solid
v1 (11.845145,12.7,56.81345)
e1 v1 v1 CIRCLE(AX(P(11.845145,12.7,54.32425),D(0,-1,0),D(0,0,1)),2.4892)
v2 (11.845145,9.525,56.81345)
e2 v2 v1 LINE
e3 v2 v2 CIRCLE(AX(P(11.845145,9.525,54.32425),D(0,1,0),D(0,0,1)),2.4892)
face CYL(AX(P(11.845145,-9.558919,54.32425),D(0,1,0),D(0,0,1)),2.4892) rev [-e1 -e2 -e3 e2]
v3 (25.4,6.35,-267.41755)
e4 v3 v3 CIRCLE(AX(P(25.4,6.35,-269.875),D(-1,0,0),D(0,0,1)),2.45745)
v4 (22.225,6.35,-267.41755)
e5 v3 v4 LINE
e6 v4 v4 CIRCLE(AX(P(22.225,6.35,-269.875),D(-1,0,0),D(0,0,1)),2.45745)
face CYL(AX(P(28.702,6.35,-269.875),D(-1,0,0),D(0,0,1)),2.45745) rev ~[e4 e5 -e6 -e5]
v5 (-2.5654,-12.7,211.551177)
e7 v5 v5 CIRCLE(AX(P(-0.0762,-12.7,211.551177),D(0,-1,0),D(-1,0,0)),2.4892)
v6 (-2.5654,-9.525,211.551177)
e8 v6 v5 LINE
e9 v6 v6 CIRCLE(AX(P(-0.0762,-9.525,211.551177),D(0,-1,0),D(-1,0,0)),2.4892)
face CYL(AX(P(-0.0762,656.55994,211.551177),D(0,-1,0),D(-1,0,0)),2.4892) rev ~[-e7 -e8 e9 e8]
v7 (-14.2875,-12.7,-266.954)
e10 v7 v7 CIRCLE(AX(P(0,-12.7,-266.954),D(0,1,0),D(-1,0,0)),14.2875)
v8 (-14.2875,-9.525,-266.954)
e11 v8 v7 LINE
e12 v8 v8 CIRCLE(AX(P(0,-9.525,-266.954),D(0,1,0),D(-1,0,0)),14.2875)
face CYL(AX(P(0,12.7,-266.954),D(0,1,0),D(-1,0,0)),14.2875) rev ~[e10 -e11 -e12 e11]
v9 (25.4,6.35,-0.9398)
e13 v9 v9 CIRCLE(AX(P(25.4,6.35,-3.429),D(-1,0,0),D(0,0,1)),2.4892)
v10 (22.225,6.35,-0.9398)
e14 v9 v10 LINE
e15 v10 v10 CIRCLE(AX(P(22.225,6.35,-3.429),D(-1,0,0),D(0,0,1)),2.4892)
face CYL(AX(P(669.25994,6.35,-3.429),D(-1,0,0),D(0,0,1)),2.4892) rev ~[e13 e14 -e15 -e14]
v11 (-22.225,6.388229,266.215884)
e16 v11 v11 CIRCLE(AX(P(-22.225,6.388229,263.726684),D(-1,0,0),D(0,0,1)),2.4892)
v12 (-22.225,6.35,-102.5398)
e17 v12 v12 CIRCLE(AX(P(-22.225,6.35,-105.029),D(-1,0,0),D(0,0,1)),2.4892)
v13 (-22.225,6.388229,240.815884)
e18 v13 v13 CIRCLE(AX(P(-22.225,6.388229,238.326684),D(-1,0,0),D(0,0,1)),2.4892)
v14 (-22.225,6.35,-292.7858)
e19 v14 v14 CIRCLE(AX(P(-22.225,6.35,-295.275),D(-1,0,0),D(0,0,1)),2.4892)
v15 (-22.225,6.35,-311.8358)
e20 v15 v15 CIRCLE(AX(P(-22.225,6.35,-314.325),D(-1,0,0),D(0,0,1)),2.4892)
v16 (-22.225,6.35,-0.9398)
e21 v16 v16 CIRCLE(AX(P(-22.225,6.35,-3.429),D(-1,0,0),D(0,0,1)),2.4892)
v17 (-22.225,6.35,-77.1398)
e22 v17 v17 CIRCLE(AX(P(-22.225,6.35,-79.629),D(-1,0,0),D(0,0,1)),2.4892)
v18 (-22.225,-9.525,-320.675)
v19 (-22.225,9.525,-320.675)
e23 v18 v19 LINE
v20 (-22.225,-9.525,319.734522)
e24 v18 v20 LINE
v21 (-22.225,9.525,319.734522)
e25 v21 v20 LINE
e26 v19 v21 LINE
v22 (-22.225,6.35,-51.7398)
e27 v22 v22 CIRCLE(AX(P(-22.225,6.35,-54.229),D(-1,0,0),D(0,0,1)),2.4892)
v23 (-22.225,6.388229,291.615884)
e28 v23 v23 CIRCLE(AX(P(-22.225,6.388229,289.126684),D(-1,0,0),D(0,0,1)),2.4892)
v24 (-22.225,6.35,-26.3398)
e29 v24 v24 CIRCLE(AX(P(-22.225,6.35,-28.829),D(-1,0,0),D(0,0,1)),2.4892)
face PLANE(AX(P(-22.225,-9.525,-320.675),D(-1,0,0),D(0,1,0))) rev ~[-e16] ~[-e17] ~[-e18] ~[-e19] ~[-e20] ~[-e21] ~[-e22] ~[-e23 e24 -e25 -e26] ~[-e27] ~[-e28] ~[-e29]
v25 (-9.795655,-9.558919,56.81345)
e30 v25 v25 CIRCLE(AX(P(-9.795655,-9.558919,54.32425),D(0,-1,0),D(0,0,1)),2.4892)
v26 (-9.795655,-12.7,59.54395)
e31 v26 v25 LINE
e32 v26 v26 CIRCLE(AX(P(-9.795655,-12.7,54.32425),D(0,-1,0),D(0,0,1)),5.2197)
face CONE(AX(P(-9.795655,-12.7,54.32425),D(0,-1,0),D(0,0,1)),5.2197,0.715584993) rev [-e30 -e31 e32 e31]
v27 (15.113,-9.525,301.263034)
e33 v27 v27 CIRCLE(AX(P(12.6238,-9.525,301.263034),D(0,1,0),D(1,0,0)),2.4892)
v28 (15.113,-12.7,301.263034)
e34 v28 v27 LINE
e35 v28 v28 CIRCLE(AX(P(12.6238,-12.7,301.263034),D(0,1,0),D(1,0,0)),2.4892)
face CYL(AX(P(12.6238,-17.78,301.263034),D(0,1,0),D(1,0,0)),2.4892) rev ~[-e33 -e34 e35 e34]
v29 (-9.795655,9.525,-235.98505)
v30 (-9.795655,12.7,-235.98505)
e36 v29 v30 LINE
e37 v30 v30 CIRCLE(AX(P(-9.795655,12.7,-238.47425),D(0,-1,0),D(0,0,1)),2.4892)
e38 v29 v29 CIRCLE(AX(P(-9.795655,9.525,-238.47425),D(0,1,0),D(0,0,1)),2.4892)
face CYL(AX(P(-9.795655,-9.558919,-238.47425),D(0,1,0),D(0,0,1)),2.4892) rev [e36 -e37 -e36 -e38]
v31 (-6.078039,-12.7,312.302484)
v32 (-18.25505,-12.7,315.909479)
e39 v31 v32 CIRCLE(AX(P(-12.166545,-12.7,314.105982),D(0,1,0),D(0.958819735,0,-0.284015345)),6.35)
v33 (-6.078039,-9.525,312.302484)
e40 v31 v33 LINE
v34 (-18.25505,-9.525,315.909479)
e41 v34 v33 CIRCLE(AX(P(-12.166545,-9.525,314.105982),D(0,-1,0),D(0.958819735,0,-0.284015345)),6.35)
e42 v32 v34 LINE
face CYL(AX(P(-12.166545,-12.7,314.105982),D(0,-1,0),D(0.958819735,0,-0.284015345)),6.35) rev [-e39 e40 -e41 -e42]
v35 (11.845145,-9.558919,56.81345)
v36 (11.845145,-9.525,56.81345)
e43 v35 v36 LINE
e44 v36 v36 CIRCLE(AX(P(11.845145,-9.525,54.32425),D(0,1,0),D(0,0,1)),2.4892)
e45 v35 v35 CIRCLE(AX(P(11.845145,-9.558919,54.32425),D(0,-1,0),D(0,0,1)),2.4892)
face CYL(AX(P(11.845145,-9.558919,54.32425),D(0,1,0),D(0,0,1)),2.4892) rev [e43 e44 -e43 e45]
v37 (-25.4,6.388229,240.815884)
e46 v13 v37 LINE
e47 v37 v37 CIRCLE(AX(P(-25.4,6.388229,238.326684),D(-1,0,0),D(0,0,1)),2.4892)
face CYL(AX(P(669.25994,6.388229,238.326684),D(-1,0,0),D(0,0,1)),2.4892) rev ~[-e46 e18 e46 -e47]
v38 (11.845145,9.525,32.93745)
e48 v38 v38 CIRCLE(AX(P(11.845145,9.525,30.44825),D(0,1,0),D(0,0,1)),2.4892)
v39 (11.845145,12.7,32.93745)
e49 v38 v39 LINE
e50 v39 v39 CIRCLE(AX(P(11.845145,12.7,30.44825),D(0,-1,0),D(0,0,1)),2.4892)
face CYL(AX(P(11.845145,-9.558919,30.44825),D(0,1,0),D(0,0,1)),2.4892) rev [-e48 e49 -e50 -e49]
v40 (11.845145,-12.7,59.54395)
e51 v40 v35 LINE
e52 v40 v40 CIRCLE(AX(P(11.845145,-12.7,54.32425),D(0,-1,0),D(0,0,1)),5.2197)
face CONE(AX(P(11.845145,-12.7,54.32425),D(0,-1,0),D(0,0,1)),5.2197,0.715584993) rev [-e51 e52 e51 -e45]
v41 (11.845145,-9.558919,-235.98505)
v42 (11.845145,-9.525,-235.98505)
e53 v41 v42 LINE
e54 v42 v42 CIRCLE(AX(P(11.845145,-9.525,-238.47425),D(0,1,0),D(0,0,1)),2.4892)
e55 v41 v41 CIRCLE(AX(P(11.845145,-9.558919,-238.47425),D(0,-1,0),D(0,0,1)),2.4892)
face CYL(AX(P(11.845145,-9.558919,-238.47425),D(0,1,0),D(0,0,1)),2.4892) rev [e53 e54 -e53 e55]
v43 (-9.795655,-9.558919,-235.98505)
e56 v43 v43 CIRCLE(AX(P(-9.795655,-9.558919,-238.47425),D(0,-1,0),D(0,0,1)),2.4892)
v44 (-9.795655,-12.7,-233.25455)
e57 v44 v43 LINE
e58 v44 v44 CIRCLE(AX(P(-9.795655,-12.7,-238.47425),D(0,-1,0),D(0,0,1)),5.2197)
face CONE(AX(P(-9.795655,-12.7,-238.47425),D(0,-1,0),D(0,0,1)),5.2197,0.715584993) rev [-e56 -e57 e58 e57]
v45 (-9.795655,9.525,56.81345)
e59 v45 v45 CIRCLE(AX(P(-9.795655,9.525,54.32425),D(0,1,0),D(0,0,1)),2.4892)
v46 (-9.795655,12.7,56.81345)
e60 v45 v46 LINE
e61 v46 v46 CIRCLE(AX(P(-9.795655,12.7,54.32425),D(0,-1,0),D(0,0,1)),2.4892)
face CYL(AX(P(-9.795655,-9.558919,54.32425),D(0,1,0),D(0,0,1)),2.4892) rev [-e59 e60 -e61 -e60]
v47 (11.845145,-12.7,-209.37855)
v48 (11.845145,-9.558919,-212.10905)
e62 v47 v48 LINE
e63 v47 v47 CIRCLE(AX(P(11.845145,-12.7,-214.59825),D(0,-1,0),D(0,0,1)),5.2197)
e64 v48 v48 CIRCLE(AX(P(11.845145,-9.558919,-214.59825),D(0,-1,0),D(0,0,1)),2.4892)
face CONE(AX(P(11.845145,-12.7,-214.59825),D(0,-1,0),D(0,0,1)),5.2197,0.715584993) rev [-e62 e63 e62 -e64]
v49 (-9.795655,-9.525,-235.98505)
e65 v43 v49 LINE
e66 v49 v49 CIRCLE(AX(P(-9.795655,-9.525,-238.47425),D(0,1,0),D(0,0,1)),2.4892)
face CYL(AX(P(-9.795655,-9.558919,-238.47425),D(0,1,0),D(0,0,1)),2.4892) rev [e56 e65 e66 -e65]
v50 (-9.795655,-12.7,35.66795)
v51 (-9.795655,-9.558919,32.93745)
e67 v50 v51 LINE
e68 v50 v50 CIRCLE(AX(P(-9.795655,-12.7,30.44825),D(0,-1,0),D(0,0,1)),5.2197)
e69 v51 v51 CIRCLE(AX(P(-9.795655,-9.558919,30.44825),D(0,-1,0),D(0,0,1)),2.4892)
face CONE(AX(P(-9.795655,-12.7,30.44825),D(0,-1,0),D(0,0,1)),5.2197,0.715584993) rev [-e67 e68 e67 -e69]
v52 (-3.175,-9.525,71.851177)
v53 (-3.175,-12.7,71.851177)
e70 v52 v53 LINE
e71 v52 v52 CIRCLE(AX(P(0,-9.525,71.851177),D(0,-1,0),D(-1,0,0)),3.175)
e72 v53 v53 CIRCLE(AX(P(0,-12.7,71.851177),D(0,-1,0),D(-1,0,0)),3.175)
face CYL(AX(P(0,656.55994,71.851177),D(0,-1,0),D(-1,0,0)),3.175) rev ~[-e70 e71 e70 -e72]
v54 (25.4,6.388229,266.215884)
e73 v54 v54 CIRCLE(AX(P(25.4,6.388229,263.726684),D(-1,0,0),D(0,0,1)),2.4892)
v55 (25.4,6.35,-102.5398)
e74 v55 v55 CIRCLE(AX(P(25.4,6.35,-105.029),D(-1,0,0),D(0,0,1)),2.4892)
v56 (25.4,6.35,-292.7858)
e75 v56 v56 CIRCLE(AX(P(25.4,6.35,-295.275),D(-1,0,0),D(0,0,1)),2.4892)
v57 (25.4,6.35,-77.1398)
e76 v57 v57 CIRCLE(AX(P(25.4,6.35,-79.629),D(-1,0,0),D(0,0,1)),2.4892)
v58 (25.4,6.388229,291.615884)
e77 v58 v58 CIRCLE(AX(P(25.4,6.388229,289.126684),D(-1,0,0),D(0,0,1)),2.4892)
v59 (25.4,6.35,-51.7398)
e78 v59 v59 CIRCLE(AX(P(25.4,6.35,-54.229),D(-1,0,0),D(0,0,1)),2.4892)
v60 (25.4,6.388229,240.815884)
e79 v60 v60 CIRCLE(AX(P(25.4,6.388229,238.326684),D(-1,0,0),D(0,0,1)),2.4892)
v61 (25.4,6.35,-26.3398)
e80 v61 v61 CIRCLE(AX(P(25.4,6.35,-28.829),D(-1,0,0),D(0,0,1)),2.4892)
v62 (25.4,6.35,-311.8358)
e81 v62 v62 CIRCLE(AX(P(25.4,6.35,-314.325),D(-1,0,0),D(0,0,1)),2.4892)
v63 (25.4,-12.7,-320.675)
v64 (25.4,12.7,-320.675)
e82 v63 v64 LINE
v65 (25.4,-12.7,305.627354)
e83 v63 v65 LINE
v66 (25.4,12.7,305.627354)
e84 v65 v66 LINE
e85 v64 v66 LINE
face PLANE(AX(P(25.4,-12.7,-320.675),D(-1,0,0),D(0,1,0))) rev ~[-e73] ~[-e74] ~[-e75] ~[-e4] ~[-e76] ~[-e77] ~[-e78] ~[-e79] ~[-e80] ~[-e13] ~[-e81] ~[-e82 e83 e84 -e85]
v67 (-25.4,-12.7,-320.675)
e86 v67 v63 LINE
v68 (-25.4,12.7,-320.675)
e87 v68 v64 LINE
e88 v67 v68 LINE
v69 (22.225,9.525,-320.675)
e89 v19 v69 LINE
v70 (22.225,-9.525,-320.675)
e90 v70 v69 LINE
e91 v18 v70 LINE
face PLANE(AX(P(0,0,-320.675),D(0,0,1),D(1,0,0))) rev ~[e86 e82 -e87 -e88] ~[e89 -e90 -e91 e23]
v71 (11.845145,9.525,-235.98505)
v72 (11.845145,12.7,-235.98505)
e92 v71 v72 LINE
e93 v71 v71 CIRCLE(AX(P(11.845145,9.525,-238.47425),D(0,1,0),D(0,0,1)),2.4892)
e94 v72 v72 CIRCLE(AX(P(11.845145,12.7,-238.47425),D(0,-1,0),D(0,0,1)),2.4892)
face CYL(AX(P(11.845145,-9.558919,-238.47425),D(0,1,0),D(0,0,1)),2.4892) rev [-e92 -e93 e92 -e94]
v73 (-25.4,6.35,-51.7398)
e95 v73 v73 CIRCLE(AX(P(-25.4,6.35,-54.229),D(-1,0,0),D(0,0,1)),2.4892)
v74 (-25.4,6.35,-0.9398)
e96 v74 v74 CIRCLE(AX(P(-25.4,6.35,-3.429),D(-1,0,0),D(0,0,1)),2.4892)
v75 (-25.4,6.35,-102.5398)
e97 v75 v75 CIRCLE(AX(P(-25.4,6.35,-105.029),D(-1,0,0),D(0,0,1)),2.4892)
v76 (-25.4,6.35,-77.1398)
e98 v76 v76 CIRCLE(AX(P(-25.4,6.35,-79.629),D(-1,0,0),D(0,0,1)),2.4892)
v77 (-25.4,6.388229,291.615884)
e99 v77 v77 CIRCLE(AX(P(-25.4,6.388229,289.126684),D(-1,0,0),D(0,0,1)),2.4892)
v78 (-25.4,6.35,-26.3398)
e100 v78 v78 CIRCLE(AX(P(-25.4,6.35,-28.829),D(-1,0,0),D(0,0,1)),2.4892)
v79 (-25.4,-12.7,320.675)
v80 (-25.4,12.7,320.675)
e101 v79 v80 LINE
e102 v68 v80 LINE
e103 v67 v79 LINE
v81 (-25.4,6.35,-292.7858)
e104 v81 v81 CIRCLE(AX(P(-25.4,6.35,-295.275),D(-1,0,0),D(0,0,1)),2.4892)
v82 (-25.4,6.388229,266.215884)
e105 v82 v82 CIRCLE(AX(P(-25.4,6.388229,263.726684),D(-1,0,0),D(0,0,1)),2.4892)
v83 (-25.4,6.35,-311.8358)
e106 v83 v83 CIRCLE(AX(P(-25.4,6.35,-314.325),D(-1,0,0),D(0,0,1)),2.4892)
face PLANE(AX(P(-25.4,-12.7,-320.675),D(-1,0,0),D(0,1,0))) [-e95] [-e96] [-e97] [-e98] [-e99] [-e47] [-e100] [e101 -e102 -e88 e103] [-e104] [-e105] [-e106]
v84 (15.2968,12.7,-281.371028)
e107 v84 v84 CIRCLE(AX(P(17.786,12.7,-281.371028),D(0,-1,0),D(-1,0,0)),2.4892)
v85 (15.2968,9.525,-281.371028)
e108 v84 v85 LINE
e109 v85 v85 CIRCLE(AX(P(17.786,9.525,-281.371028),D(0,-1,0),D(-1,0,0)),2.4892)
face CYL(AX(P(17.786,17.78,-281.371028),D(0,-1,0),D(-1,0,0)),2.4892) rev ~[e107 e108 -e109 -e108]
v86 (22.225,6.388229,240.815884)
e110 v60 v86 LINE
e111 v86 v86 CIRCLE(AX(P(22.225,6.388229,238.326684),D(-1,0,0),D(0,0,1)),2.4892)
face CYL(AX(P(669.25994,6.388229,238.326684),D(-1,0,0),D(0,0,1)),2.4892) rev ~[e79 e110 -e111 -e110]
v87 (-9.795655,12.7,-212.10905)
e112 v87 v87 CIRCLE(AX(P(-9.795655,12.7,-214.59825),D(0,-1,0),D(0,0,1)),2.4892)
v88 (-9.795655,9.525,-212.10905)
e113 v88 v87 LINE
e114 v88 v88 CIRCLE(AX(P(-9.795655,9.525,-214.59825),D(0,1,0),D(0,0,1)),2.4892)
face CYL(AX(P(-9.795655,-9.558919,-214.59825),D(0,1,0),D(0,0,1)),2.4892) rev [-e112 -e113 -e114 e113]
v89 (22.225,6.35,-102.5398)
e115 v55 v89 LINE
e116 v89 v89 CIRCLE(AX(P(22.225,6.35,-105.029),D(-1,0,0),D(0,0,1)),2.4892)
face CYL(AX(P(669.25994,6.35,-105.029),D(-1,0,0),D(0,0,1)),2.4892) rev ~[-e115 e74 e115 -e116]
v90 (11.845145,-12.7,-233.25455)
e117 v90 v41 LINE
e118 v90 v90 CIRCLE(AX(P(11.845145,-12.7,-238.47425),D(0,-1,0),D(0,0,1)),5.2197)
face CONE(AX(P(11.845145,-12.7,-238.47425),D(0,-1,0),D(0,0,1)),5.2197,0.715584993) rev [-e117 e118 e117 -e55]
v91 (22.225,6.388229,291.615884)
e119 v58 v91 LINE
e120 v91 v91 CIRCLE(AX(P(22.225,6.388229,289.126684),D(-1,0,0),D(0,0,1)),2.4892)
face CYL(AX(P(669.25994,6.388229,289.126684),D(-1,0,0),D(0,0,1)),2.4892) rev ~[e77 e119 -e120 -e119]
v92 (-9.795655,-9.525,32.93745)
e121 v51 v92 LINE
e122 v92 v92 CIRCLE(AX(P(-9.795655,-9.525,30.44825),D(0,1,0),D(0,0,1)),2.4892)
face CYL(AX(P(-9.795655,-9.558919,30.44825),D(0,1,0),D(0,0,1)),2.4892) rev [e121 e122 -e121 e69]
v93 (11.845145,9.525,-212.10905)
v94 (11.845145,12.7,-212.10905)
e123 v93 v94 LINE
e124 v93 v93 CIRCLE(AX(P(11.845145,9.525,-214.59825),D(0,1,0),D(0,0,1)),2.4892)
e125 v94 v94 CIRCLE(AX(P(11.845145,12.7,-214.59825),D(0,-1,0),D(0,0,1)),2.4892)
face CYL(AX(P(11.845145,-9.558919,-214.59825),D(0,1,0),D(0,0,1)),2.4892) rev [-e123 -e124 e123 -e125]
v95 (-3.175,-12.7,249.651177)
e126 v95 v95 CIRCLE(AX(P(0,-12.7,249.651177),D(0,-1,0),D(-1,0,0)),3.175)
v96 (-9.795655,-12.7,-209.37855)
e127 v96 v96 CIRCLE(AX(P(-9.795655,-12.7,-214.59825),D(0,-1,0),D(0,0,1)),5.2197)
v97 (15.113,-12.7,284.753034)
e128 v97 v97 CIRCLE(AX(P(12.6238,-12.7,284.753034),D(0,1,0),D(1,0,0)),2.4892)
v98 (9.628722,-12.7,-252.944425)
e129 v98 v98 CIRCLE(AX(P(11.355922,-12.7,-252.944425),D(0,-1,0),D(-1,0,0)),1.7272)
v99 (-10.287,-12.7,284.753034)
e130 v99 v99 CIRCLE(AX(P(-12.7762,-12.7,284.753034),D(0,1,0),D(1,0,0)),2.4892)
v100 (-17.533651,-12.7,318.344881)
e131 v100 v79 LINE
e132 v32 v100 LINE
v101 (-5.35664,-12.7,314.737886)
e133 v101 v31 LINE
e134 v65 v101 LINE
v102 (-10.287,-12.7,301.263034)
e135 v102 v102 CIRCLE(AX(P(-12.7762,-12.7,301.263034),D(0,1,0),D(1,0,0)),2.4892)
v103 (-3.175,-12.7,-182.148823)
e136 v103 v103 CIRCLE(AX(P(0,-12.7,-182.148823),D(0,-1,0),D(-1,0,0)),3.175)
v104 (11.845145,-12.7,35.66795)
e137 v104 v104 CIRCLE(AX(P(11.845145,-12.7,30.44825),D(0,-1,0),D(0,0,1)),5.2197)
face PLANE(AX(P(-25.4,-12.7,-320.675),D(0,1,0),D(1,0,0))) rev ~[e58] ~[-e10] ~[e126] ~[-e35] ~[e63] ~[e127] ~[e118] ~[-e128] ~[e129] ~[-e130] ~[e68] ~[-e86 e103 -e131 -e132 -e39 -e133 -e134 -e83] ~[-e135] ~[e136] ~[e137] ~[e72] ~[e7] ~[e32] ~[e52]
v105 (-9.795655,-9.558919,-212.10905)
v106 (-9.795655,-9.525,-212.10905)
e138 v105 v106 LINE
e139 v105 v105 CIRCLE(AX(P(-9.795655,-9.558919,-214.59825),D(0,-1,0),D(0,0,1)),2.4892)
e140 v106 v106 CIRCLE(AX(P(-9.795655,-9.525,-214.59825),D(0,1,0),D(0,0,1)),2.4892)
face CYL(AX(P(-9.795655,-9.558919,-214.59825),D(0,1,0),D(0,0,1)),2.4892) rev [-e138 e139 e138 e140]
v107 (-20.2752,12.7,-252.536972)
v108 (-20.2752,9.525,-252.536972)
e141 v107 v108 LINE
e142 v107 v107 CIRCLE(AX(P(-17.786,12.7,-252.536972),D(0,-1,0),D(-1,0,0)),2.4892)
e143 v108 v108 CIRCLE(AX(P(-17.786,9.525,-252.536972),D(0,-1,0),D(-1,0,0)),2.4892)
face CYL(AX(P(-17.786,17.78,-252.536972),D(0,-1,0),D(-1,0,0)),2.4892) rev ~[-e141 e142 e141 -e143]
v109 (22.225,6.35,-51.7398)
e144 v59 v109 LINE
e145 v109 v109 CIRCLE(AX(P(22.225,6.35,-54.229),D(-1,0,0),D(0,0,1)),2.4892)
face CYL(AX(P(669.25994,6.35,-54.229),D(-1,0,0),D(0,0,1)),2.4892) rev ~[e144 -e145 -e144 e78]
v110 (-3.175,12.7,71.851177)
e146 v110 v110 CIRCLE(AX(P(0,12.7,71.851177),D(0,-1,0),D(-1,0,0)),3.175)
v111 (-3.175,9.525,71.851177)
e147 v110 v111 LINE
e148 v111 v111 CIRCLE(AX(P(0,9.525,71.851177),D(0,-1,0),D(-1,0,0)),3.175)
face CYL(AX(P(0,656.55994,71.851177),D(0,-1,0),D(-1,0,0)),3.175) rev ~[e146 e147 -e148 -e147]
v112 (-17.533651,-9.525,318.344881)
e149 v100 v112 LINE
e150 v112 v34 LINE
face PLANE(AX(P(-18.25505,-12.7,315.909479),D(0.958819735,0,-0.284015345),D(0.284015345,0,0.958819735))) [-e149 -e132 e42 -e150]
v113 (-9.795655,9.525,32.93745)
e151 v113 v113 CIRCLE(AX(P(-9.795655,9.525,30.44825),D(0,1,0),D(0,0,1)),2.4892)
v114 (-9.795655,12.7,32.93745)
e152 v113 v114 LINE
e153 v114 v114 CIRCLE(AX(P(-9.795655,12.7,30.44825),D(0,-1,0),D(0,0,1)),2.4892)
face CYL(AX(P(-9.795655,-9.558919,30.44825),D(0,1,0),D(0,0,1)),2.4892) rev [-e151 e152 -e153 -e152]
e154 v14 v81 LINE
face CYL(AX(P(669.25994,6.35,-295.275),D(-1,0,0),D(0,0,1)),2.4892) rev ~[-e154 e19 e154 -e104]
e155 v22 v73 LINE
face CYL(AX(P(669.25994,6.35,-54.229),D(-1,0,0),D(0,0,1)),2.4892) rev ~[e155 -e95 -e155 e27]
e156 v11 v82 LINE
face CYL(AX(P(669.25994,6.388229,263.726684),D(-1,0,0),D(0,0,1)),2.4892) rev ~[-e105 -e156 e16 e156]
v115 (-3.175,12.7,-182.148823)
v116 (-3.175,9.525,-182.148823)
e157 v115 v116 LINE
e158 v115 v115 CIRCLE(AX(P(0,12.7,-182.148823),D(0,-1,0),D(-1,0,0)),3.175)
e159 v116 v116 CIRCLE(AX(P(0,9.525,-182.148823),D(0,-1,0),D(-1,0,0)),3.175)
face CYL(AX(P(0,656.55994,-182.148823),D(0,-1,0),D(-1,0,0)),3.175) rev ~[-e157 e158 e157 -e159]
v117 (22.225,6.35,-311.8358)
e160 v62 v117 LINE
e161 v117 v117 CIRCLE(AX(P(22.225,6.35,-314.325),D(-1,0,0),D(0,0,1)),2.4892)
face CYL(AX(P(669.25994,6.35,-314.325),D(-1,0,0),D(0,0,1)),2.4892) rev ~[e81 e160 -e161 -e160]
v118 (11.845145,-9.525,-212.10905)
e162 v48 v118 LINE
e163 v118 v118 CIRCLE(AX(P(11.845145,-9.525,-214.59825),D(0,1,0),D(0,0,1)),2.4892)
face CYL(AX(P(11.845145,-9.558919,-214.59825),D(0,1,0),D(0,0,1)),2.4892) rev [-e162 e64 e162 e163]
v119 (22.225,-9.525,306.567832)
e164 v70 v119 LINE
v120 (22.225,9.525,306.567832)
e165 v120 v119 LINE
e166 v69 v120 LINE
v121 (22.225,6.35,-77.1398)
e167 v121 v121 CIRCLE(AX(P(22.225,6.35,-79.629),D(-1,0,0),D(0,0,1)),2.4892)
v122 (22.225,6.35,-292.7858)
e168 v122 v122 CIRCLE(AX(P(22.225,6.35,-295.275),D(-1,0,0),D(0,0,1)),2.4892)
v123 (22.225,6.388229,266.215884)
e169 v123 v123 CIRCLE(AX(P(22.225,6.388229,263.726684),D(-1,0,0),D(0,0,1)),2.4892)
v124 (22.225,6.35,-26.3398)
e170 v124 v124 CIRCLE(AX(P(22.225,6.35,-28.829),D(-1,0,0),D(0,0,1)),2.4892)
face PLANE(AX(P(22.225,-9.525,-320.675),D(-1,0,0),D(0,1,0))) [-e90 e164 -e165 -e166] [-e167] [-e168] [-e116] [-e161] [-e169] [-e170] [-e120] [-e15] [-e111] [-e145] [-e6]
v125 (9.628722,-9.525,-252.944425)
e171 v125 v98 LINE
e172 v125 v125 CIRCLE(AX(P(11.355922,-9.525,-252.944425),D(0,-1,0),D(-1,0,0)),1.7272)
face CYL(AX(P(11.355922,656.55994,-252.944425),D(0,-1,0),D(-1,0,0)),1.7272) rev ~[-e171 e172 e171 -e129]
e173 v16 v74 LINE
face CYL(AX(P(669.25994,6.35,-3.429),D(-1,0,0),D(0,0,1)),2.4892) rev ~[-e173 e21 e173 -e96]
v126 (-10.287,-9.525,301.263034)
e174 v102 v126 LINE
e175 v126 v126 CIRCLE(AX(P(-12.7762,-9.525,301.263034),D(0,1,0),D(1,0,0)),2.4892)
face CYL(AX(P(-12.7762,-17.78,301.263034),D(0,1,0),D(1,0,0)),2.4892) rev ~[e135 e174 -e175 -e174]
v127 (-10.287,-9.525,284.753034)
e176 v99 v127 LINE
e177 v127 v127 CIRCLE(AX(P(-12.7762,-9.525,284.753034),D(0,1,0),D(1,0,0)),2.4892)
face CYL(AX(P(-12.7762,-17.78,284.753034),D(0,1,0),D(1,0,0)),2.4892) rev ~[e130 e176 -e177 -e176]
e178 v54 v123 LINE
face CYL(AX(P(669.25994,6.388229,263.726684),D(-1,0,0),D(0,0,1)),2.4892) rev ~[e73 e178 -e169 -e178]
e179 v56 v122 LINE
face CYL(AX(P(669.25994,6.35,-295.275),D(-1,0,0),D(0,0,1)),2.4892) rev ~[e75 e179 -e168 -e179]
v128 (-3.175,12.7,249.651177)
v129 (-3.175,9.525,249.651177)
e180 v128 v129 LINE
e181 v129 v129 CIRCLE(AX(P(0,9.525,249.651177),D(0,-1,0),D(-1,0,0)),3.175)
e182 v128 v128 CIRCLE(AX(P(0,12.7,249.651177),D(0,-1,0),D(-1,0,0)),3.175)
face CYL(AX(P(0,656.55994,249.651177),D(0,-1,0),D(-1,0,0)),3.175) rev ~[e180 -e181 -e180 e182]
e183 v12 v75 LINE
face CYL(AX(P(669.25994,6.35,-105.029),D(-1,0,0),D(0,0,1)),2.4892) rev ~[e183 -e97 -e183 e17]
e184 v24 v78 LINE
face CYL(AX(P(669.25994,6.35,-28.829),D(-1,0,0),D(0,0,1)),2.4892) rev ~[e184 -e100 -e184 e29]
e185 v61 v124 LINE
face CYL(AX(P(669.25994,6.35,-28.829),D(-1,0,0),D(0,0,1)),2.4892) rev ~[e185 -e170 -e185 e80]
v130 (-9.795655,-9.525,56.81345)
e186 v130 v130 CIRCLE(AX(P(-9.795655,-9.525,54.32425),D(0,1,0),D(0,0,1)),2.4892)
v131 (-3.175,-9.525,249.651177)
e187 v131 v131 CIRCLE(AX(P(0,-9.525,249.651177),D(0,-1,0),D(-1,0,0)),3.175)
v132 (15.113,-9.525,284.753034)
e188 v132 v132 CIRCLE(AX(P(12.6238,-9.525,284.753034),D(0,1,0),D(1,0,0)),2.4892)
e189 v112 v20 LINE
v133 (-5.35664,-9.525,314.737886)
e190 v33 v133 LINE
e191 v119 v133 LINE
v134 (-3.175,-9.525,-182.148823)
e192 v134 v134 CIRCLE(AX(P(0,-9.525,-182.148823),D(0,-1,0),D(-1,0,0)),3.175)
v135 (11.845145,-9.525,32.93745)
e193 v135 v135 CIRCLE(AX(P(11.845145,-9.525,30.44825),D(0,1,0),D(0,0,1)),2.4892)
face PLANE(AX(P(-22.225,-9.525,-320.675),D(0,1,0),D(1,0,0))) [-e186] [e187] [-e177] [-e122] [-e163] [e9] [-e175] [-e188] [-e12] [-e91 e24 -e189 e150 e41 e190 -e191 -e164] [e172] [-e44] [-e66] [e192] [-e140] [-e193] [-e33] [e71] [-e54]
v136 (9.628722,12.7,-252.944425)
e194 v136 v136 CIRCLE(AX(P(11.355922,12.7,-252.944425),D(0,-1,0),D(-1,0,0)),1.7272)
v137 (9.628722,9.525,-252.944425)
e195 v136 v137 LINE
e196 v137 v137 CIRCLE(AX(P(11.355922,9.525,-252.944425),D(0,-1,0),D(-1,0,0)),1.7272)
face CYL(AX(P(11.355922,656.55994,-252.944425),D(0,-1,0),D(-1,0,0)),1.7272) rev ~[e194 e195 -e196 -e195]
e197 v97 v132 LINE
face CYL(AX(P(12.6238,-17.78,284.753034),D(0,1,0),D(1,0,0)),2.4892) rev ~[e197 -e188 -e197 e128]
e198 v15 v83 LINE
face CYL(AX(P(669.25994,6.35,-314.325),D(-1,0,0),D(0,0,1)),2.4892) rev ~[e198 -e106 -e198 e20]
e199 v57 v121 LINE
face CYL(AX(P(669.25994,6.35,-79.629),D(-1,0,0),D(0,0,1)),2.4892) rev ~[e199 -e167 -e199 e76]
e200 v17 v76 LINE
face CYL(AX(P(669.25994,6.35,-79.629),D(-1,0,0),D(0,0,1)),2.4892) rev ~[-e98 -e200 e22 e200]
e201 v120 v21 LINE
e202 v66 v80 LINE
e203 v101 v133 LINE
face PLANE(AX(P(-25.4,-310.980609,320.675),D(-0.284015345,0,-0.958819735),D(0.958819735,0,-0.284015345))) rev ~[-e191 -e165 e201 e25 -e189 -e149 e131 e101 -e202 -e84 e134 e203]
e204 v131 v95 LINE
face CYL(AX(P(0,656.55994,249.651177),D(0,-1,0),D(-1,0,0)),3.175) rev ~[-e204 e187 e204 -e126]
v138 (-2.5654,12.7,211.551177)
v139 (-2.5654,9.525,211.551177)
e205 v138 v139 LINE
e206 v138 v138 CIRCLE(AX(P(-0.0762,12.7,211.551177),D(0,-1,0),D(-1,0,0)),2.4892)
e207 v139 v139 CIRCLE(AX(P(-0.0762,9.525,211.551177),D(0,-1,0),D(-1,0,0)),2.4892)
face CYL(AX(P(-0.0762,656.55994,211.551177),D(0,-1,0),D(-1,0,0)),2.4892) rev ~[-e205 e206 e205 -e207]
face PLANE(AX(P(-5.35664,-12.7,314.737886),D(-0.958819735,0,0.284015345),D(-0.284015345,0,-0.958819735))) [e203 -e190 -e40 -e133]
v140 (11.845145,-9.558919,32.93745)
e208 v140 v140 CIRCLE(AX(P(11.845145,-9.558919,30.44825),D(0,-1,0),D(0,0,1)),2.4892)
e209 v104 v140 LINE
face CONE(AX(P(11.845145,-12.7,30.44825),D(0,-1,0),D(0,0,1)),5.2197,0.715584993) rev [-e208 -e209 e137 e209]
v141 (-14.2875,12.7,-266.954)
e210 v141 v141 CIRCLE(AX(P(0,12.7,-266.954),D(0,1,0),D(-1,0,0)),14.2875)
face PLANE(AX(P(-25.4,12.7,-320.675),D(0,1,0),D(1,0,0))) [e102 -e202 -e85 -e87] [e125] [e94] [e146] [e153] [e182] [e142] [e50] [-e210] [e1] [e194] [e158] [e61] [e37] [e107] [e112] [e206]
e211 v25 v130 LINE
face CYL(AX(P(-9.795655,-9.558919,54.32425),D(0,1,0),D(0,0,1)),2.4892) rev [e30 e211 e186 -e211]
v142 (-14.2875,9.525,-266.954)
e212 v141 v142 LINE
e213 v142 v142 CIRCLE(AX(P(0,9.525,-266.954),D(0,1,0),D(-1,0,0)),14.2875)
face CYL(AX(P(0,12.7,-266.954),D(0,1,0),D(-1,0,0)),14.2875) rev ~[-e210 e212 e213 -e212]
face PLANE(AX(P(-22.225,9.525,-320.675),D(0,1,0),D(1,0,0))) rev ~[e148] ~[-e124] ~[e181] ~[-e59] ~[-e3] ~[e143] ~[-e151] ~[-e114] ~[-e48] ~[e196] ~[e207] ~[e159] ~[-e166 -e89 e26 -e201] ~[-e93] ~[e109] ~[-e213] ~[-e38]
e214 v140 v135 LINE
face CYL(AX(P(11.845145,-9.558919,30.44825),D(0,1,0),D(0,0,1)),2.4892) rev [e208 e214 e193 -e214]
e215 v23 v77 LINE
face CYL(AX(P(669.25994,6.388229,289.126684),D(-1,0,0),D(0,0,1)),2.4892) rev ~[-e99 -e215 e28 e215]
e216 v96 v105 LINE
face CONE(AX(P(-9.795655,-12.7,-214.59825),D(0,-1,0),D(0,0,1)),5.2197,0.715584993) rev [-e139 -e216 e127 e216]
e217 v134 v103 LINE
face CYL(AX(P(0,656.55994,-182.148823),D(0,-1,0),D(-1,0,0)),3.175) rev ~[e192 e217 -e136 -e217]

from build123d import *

# Parameters (mm, degrees)
BOSS_EXTRUDE1_DEPTH              = 320.675
BOSS_EXTRUDE1_DEPTH_BACK         = 320.675
SKETCH3_W                        = 50.8
SKETCH3_H                        = 25.4
SKETCH3_W_2                      = 44.45
SKETCH3_H_2                      = 19.05
CUT_EXTRUDE1_DEPTH               = 323.680609311
CUT_EXTRUDE1_DEPTH_BACK          = 323.680609311
SKETCH8_R                        = 14.2875
CUT_EXTRUDE2_DEPTH               = 323.680609311
F_10_CLEARANCE_HOLE1_D           = 4.9784
F_10_CLEARANCE_HOLE1_DEPTH       = 5.08
F_10_CLEARANCE_HOLE1_TIP         = 1.495662253
F_10_CLEARANCE_HOLE2_D           = 4.9784
F_10_CLEARANCE_HOLE3_D           = 4.9784
F_10_CLEARANCE_HOLE4_D           = 4.9784
F_10_CLEARANCE_HOLE4_DEPTH       = 5.08
F_10_CLEARANCE_HOLE4_TIP         = 1.495662253
F_10_CLEARANCE_HOLE5_D           = 4.9784
TAP_DRILL_FOR_8_32_TAP1_D        = 3.4544
F_10_CLEARANCE_HOLE6_AT_2_COUNT  = 2
F_10_CLEARANCE_HOLE6_AT_2_PITCH  = 21.6408
F_10_CLEARANCE_HOLE6_AT_3_COUNT  = 2
F_10_CLEARANCE_HOLE6_AT_3_PITCH  = 32.224022105
F_10_CLEARANCE_HOLE6_AT_4_COUNT  = 2
F_10_CLEARANCE_HOLE6_AT_4_PITCH  = 23.876
F_10_CLEARANCE_HOLE6_AT_5_COUNT  = 2
F_10_CLEARANCE_HOLE6_AT_5_PITCH  = 269.79183685
F_10_CLEARANCE_HOLE6_AT_6_COUNT  = 2
F_10_CLEARANCE_HOLE6_AT_6_PITCH  = 268.9225
F_10_CLEARANCE_HOLE6_AT_7_COUNT  = 2
F_10_CLEARANCE_HOLE6_AT_7_PITCH  = 292.7985
F_10_CLEARANCE_HOLE6_AT_8_COUNT  = 2
F_10_CLEARANCE_HOLE6_AT_8_PITCH  = 293.597148874
F_10_0_1935_DIAMETER_HOLE1_D     = 4.9149
F_10_0_1935_DIAMETER_HOLE1_DEPTH = 3.302
F_10_0_1935_DIAMETER_HOLE1_TIP   = 1.476584928
CUT_EXTRUDE4_DEPTH               = 5.08
F_1_4_0_25_DIAMETER_HOLE1_D      = 6.35


with BuildPart() as part:
    # Sketch3 → Boss-Extrude1 (new, two sides: drawn at the far end of the back side and taken through both)
    with BuildSketch(Plane.XY.offset(-BOSS_EXTRUDE1_DEPTH_BACK)):
        Rectangle(SKETCH3_W, SKETCH3_H)
        Rectangle(SKETCH3_W_2, SKETCH3_H_2, mode=Mode.SUBTRACT)
    extrude(amount=BOSS_EXTRUDE1_DEPTH + BOSS_EXTRUDE1_DEPTH_BACK)

    # Sketch4 → Cut-Extrude1 (cut, two sides: drawn at the far end of the back side and taken through both)
    with BuildSketch(Plane(origin=(0, 12.7, 0), x_dir=(1, 0, 0), z_dir=(0, 1, 0)).offset(-CUT_EXTRUDE1_DEPTH_BACK)):
        Polygon((1322.117470931, -320.675), (25.4, -320.675), (-25.4, -320.675), (25.4, -305.627354456), (1268.718301677, 62.660305034), (3837.350959621, 420.474595165), (3890.750128875, 37.139290131), align=None)
    extrude(amount=CUT_EXTRUDE1_DEPTH + CUT_EXTRUDE1_DEPTH_BACK, mode=Mode.SUBTRACT)

    # Sketch8 → Cut-Extrude2 (cut, through all)
    with BuildSketch(Plane(origin=(0, 12.7, 0), x_dir=(1, 0, 0), z_dir=(0, 1, 0))):
        with Locations(Location((0, 266.954, 0), (0, 0, 180))):
            Circle(SKETCH8_R)
    extrude(amount=-CUT_EXTRUDE2_DEPTH, mode=Mode.SUBTRACT)

    # #10 Clearance Hole1
    with Locations(Plane(origin=(0, -12.7, 0), x_dir=(-1, 0, 0), z_dir=(0, -1, 0))):
        with Locations((-12.6238, -284.753033923), (12.7762, -284.753033923), (12.7762, -301.263033923), (-12.6238, -301.263033923)):
            Hole(F_10_CLEARANCE_HOLE1_D / 2, depth=F_10_CLEARANCE_HOLE1_DEPTH)
            with Locations((0, 0, -(F_10_CLEARANCE_HOLE1_DEPTH + F_10_CLEARANCE_HOLE1_TIP / 2))):  # 118° drill point
                Cone(0, F_10_CLEARANCE_HOLE1_D / 2, F_10_CLEARANCE_HOLE1_TIP, mode=Mode.SUBTRACT)

    # #10 Clearance Hole2 (through all)
    with Locations(Plane(origin=(25.4, 0, 0), x_dir=(0, 0, -1), z_dir=(1, 0, 0))):
        with Locations((314.325, 6.35), (295.275, 6.35)):
            Hole(F_10_CLEARANCE_HOLE2_D / 2)

    # #10 Clearance Hole3 (through all)
    with Locations(Plane(origin=(25.4, 0, 0), x_dir=(0, 0, -1), z_dir=(1, 0, 0))):
        with Locations((105.029, 6.35), (79.629, 6.35), (54.229, 6.35), (28.829, 6.35), (3.429, 6.35), (-289.126683504, 6.388229415), (-263.726683504, 6.388229415), (-238.326683504, 6.388229415)):
            Hole(F_10_CLEARANCE_HOLE3_D / 2)

    # #10 Clearance Hole4
    with Locations(Plane(origin=(0, 12.7, 0), x_dir=(1, 0, 0), z_dir=(0, 1, 0))):
        with Locations((17.786, 281.371028265), (-17.786, 252.536971735)):
            Hole(F_10_CLEARANCE_HOLE4_D / 2, depth=F_10_CLEARANCE_HOLE4_DEPTH)
            with Locations((0, 0, -(F_10_CLEARANCE_HOLE4_DEPTH + F_10_CLEARANCE_HOLE4_TIP / 2))):  # 118° drill point
                Cone(0, F_10_CLEARANCE_HOLE4_D / 2, F_10_CLEARANCE_HOLE4_TIP, mode=Mode.SUBTRACT)

    # #10 Clearance Hole5 (through all)
    with Locations(Plane(origin=(0, 12.7, 0), x_dir=(1, 0, 0), z_dir=(0, 1, 0))):
        with Locations((-0.0762, -211.551177228)):
            Hole(F_10_CLEARANCE_HOLE5_D / 2)

    # Tap Drill for #8-32 Tap1 (through all)
    with Locations(Plane(origin=(0, 12.7, 0), x_dir=(1, 0, 0), z_dir=(0, 1, 0))):
        with Locations((11.355922339, 252.94442528)):
            Hole(TAP_DRILL_FOR_8_32_TAP1_D / 2)

    # Sketch27 → #10 Clearance Hole6 (revolve, cut)
    with BuildSketch(Plane(origin=(-9.795655012, 12.7, -238.47425), x_dir=(0, 0, 1), z_dir=(1, 0, 0))):
        Polygon((0, 0), (0, 25.4), (5.2197, 25.4), (2.4892, 22.258919064), (2.4892, 0), align=None)
    f_10_clearance_hole6 = revolve(axis=Axis((-9.795655012, 19.05, -238.47425), (0, -1, 0)), mode=Mode.SUBTRACT)

    # #10 Clearance Hole6 at 2: #10 Clearance Hole6 ×2
    with Locations(*[(i * F_10_CLEARANCE_HOLE6_AT_2_PITCH, 0, 0) for i in range(1, F_10_CLEARANCE_HOLE6_AT_2_COUNT)]):
        add(f_10_clearance_hole6, mode=Mode.SUBTRACT)

    # #10 Clearance Hole6 at 3: #10 Clearance Hole6 ×2
    with Locations(*[Vector(0.6715735214342003, 0, 0.7409379227090943) * (i * F_10_CLEARANCE_HOLE6_AT_3_PITCH) for i in range(1, F_10_CLEARANCE_HOLE6_AT_3_COUNT)]):
        add(f_10_clearance_hole6, mode=Mode.SUBTRACT)

    # #10 Clearance Hole6 at 4: #10 Clearance Hole6 ×2
    with Locations(*[(0, 0, i * F_10_CLEARANCE_HOLE6_AT_4_PITCH) for i in range(1, F_10_CLEARANCE_HOLE6_AT_4_COUNT)]):
        add(f_10_clearance_hole6, mode=Mode.SUBTRACT)

    # #10 Clearance Hole6 at 5: #10 Clearance Hole6 ×2
    with Locations(*[Vector(0.08021295326304838, 0, 0.9967777496156403) * (i * F_10_CLEARANCE_HOLE6_AT_5_PITCH) for i in range(1, F_10_CLEARANCE_HOLE6_AT_5_COUNT)]):
        add(f_10_clearance_hole6, mode=Mode.SUBTRACT)

    # #10 Clearance Hole6 at 6: #10 Clearance Hole6 ×2
    with Locations(*[(0, 0, i * F_10_CLEARANCE_HOLE6_AT_6_PITCH) for i in range(1, F_10_CLEARANCE_HOLE6_AT_6_COUNT)]):
        add(f_10_clearance_hole6, mode=Mode.SUBTRACT)

    # #10 Clearance Hole6 at 7: #10 Clearance Hole6 ×2
    with Locations(*[(0, 0, i * F_10_CLEARANCE_HOLE6_AT_7_PITCH) for i in range(1, F_10_CLEARANCE_HOLE6_AT_7_COUNT)]):
        add(f_10_clearance_hole6, mode=Mode.SUBTRACT)

    # #10 Clearance Hole6 at 8: #10 Clearance Hole6 ×2
    with Locations(*[Vector(0.07370916265026073, 0, 0.9972797798719262) * (i * F_10_CLEARANCE_HOLE6_AT_8_PITCH) for i in range(1, F_10_CLEARANCE_HOLE6_AT_8_COUNT)]):
        add(f_10_clearance_hole6, mode=Mode.SUBTRACT)

    # #10 (0.1935) Diameter Hole1
    with Locations(Plane(origin=(25.4, 0, 0), x_dir=(0, 0, -1), z_dir=(1, 0, 0))):
        with Locations((269.875, 6.35)):
            Hole(F_10_0_1935_DIAMETER_HOLE1_D / 2, depth=F_10_0_1935_DIAMETER_HOLE1_DEPTH)
            with Locations((0, 0, -(F_10_0_1935_DIAMETER_HOLE1_DEPTH + F_10_0_1935_DIAMETER_HOLE1_TIP / 2))):  # 118° drill point
                Cone(0, F_10_0_1935_DIAMETER_HOLE1_D / 2, F_10_0_1935_DIAMETER_HOLE1_TIP, mode=Mode.SUBTRACT)

    # Sketch30 → Cut-Extrude4 (cut)
    with BuildSketch(Plane(origin=(0, -12.7, 0), x_dir=(1, 0, 0), z_dir=(0, 1, 0))):
        with BuildLine():
            Line((-17.533651131, -318.344881309), (-5.356640498, -314.737886431))
            Line((-5.356640498, -314.737886431), (-6.078039474, -312.302484305))
            ThreePointArc((-6.078039474, -312.302484305), (-13.970042229, -308.017476427), (-18.255050107, -315.909479182))
            Line((-18.255050107, -315.909479182), (-17.533651131, -318.344881309))
        make_face()
    extrude(amount=CUT_EXTRUDE4_DEPTH, mode=Mode.SUBTRACT)

    # 1/4 (0.25) Diameter Hole1 (through all)
    with Locations(Plane(origin=(0, 12.7, 0), x_dir=(1, 0, 0), z_dir=(0, 1, 0))):
        with Locations((0, -71.851177228), (0, -249.651177228), (0, 182.148822772)):
            Hole(F_1_4_0_25_DIAMETER_HOLE1_D / 2)


solid = part.part
